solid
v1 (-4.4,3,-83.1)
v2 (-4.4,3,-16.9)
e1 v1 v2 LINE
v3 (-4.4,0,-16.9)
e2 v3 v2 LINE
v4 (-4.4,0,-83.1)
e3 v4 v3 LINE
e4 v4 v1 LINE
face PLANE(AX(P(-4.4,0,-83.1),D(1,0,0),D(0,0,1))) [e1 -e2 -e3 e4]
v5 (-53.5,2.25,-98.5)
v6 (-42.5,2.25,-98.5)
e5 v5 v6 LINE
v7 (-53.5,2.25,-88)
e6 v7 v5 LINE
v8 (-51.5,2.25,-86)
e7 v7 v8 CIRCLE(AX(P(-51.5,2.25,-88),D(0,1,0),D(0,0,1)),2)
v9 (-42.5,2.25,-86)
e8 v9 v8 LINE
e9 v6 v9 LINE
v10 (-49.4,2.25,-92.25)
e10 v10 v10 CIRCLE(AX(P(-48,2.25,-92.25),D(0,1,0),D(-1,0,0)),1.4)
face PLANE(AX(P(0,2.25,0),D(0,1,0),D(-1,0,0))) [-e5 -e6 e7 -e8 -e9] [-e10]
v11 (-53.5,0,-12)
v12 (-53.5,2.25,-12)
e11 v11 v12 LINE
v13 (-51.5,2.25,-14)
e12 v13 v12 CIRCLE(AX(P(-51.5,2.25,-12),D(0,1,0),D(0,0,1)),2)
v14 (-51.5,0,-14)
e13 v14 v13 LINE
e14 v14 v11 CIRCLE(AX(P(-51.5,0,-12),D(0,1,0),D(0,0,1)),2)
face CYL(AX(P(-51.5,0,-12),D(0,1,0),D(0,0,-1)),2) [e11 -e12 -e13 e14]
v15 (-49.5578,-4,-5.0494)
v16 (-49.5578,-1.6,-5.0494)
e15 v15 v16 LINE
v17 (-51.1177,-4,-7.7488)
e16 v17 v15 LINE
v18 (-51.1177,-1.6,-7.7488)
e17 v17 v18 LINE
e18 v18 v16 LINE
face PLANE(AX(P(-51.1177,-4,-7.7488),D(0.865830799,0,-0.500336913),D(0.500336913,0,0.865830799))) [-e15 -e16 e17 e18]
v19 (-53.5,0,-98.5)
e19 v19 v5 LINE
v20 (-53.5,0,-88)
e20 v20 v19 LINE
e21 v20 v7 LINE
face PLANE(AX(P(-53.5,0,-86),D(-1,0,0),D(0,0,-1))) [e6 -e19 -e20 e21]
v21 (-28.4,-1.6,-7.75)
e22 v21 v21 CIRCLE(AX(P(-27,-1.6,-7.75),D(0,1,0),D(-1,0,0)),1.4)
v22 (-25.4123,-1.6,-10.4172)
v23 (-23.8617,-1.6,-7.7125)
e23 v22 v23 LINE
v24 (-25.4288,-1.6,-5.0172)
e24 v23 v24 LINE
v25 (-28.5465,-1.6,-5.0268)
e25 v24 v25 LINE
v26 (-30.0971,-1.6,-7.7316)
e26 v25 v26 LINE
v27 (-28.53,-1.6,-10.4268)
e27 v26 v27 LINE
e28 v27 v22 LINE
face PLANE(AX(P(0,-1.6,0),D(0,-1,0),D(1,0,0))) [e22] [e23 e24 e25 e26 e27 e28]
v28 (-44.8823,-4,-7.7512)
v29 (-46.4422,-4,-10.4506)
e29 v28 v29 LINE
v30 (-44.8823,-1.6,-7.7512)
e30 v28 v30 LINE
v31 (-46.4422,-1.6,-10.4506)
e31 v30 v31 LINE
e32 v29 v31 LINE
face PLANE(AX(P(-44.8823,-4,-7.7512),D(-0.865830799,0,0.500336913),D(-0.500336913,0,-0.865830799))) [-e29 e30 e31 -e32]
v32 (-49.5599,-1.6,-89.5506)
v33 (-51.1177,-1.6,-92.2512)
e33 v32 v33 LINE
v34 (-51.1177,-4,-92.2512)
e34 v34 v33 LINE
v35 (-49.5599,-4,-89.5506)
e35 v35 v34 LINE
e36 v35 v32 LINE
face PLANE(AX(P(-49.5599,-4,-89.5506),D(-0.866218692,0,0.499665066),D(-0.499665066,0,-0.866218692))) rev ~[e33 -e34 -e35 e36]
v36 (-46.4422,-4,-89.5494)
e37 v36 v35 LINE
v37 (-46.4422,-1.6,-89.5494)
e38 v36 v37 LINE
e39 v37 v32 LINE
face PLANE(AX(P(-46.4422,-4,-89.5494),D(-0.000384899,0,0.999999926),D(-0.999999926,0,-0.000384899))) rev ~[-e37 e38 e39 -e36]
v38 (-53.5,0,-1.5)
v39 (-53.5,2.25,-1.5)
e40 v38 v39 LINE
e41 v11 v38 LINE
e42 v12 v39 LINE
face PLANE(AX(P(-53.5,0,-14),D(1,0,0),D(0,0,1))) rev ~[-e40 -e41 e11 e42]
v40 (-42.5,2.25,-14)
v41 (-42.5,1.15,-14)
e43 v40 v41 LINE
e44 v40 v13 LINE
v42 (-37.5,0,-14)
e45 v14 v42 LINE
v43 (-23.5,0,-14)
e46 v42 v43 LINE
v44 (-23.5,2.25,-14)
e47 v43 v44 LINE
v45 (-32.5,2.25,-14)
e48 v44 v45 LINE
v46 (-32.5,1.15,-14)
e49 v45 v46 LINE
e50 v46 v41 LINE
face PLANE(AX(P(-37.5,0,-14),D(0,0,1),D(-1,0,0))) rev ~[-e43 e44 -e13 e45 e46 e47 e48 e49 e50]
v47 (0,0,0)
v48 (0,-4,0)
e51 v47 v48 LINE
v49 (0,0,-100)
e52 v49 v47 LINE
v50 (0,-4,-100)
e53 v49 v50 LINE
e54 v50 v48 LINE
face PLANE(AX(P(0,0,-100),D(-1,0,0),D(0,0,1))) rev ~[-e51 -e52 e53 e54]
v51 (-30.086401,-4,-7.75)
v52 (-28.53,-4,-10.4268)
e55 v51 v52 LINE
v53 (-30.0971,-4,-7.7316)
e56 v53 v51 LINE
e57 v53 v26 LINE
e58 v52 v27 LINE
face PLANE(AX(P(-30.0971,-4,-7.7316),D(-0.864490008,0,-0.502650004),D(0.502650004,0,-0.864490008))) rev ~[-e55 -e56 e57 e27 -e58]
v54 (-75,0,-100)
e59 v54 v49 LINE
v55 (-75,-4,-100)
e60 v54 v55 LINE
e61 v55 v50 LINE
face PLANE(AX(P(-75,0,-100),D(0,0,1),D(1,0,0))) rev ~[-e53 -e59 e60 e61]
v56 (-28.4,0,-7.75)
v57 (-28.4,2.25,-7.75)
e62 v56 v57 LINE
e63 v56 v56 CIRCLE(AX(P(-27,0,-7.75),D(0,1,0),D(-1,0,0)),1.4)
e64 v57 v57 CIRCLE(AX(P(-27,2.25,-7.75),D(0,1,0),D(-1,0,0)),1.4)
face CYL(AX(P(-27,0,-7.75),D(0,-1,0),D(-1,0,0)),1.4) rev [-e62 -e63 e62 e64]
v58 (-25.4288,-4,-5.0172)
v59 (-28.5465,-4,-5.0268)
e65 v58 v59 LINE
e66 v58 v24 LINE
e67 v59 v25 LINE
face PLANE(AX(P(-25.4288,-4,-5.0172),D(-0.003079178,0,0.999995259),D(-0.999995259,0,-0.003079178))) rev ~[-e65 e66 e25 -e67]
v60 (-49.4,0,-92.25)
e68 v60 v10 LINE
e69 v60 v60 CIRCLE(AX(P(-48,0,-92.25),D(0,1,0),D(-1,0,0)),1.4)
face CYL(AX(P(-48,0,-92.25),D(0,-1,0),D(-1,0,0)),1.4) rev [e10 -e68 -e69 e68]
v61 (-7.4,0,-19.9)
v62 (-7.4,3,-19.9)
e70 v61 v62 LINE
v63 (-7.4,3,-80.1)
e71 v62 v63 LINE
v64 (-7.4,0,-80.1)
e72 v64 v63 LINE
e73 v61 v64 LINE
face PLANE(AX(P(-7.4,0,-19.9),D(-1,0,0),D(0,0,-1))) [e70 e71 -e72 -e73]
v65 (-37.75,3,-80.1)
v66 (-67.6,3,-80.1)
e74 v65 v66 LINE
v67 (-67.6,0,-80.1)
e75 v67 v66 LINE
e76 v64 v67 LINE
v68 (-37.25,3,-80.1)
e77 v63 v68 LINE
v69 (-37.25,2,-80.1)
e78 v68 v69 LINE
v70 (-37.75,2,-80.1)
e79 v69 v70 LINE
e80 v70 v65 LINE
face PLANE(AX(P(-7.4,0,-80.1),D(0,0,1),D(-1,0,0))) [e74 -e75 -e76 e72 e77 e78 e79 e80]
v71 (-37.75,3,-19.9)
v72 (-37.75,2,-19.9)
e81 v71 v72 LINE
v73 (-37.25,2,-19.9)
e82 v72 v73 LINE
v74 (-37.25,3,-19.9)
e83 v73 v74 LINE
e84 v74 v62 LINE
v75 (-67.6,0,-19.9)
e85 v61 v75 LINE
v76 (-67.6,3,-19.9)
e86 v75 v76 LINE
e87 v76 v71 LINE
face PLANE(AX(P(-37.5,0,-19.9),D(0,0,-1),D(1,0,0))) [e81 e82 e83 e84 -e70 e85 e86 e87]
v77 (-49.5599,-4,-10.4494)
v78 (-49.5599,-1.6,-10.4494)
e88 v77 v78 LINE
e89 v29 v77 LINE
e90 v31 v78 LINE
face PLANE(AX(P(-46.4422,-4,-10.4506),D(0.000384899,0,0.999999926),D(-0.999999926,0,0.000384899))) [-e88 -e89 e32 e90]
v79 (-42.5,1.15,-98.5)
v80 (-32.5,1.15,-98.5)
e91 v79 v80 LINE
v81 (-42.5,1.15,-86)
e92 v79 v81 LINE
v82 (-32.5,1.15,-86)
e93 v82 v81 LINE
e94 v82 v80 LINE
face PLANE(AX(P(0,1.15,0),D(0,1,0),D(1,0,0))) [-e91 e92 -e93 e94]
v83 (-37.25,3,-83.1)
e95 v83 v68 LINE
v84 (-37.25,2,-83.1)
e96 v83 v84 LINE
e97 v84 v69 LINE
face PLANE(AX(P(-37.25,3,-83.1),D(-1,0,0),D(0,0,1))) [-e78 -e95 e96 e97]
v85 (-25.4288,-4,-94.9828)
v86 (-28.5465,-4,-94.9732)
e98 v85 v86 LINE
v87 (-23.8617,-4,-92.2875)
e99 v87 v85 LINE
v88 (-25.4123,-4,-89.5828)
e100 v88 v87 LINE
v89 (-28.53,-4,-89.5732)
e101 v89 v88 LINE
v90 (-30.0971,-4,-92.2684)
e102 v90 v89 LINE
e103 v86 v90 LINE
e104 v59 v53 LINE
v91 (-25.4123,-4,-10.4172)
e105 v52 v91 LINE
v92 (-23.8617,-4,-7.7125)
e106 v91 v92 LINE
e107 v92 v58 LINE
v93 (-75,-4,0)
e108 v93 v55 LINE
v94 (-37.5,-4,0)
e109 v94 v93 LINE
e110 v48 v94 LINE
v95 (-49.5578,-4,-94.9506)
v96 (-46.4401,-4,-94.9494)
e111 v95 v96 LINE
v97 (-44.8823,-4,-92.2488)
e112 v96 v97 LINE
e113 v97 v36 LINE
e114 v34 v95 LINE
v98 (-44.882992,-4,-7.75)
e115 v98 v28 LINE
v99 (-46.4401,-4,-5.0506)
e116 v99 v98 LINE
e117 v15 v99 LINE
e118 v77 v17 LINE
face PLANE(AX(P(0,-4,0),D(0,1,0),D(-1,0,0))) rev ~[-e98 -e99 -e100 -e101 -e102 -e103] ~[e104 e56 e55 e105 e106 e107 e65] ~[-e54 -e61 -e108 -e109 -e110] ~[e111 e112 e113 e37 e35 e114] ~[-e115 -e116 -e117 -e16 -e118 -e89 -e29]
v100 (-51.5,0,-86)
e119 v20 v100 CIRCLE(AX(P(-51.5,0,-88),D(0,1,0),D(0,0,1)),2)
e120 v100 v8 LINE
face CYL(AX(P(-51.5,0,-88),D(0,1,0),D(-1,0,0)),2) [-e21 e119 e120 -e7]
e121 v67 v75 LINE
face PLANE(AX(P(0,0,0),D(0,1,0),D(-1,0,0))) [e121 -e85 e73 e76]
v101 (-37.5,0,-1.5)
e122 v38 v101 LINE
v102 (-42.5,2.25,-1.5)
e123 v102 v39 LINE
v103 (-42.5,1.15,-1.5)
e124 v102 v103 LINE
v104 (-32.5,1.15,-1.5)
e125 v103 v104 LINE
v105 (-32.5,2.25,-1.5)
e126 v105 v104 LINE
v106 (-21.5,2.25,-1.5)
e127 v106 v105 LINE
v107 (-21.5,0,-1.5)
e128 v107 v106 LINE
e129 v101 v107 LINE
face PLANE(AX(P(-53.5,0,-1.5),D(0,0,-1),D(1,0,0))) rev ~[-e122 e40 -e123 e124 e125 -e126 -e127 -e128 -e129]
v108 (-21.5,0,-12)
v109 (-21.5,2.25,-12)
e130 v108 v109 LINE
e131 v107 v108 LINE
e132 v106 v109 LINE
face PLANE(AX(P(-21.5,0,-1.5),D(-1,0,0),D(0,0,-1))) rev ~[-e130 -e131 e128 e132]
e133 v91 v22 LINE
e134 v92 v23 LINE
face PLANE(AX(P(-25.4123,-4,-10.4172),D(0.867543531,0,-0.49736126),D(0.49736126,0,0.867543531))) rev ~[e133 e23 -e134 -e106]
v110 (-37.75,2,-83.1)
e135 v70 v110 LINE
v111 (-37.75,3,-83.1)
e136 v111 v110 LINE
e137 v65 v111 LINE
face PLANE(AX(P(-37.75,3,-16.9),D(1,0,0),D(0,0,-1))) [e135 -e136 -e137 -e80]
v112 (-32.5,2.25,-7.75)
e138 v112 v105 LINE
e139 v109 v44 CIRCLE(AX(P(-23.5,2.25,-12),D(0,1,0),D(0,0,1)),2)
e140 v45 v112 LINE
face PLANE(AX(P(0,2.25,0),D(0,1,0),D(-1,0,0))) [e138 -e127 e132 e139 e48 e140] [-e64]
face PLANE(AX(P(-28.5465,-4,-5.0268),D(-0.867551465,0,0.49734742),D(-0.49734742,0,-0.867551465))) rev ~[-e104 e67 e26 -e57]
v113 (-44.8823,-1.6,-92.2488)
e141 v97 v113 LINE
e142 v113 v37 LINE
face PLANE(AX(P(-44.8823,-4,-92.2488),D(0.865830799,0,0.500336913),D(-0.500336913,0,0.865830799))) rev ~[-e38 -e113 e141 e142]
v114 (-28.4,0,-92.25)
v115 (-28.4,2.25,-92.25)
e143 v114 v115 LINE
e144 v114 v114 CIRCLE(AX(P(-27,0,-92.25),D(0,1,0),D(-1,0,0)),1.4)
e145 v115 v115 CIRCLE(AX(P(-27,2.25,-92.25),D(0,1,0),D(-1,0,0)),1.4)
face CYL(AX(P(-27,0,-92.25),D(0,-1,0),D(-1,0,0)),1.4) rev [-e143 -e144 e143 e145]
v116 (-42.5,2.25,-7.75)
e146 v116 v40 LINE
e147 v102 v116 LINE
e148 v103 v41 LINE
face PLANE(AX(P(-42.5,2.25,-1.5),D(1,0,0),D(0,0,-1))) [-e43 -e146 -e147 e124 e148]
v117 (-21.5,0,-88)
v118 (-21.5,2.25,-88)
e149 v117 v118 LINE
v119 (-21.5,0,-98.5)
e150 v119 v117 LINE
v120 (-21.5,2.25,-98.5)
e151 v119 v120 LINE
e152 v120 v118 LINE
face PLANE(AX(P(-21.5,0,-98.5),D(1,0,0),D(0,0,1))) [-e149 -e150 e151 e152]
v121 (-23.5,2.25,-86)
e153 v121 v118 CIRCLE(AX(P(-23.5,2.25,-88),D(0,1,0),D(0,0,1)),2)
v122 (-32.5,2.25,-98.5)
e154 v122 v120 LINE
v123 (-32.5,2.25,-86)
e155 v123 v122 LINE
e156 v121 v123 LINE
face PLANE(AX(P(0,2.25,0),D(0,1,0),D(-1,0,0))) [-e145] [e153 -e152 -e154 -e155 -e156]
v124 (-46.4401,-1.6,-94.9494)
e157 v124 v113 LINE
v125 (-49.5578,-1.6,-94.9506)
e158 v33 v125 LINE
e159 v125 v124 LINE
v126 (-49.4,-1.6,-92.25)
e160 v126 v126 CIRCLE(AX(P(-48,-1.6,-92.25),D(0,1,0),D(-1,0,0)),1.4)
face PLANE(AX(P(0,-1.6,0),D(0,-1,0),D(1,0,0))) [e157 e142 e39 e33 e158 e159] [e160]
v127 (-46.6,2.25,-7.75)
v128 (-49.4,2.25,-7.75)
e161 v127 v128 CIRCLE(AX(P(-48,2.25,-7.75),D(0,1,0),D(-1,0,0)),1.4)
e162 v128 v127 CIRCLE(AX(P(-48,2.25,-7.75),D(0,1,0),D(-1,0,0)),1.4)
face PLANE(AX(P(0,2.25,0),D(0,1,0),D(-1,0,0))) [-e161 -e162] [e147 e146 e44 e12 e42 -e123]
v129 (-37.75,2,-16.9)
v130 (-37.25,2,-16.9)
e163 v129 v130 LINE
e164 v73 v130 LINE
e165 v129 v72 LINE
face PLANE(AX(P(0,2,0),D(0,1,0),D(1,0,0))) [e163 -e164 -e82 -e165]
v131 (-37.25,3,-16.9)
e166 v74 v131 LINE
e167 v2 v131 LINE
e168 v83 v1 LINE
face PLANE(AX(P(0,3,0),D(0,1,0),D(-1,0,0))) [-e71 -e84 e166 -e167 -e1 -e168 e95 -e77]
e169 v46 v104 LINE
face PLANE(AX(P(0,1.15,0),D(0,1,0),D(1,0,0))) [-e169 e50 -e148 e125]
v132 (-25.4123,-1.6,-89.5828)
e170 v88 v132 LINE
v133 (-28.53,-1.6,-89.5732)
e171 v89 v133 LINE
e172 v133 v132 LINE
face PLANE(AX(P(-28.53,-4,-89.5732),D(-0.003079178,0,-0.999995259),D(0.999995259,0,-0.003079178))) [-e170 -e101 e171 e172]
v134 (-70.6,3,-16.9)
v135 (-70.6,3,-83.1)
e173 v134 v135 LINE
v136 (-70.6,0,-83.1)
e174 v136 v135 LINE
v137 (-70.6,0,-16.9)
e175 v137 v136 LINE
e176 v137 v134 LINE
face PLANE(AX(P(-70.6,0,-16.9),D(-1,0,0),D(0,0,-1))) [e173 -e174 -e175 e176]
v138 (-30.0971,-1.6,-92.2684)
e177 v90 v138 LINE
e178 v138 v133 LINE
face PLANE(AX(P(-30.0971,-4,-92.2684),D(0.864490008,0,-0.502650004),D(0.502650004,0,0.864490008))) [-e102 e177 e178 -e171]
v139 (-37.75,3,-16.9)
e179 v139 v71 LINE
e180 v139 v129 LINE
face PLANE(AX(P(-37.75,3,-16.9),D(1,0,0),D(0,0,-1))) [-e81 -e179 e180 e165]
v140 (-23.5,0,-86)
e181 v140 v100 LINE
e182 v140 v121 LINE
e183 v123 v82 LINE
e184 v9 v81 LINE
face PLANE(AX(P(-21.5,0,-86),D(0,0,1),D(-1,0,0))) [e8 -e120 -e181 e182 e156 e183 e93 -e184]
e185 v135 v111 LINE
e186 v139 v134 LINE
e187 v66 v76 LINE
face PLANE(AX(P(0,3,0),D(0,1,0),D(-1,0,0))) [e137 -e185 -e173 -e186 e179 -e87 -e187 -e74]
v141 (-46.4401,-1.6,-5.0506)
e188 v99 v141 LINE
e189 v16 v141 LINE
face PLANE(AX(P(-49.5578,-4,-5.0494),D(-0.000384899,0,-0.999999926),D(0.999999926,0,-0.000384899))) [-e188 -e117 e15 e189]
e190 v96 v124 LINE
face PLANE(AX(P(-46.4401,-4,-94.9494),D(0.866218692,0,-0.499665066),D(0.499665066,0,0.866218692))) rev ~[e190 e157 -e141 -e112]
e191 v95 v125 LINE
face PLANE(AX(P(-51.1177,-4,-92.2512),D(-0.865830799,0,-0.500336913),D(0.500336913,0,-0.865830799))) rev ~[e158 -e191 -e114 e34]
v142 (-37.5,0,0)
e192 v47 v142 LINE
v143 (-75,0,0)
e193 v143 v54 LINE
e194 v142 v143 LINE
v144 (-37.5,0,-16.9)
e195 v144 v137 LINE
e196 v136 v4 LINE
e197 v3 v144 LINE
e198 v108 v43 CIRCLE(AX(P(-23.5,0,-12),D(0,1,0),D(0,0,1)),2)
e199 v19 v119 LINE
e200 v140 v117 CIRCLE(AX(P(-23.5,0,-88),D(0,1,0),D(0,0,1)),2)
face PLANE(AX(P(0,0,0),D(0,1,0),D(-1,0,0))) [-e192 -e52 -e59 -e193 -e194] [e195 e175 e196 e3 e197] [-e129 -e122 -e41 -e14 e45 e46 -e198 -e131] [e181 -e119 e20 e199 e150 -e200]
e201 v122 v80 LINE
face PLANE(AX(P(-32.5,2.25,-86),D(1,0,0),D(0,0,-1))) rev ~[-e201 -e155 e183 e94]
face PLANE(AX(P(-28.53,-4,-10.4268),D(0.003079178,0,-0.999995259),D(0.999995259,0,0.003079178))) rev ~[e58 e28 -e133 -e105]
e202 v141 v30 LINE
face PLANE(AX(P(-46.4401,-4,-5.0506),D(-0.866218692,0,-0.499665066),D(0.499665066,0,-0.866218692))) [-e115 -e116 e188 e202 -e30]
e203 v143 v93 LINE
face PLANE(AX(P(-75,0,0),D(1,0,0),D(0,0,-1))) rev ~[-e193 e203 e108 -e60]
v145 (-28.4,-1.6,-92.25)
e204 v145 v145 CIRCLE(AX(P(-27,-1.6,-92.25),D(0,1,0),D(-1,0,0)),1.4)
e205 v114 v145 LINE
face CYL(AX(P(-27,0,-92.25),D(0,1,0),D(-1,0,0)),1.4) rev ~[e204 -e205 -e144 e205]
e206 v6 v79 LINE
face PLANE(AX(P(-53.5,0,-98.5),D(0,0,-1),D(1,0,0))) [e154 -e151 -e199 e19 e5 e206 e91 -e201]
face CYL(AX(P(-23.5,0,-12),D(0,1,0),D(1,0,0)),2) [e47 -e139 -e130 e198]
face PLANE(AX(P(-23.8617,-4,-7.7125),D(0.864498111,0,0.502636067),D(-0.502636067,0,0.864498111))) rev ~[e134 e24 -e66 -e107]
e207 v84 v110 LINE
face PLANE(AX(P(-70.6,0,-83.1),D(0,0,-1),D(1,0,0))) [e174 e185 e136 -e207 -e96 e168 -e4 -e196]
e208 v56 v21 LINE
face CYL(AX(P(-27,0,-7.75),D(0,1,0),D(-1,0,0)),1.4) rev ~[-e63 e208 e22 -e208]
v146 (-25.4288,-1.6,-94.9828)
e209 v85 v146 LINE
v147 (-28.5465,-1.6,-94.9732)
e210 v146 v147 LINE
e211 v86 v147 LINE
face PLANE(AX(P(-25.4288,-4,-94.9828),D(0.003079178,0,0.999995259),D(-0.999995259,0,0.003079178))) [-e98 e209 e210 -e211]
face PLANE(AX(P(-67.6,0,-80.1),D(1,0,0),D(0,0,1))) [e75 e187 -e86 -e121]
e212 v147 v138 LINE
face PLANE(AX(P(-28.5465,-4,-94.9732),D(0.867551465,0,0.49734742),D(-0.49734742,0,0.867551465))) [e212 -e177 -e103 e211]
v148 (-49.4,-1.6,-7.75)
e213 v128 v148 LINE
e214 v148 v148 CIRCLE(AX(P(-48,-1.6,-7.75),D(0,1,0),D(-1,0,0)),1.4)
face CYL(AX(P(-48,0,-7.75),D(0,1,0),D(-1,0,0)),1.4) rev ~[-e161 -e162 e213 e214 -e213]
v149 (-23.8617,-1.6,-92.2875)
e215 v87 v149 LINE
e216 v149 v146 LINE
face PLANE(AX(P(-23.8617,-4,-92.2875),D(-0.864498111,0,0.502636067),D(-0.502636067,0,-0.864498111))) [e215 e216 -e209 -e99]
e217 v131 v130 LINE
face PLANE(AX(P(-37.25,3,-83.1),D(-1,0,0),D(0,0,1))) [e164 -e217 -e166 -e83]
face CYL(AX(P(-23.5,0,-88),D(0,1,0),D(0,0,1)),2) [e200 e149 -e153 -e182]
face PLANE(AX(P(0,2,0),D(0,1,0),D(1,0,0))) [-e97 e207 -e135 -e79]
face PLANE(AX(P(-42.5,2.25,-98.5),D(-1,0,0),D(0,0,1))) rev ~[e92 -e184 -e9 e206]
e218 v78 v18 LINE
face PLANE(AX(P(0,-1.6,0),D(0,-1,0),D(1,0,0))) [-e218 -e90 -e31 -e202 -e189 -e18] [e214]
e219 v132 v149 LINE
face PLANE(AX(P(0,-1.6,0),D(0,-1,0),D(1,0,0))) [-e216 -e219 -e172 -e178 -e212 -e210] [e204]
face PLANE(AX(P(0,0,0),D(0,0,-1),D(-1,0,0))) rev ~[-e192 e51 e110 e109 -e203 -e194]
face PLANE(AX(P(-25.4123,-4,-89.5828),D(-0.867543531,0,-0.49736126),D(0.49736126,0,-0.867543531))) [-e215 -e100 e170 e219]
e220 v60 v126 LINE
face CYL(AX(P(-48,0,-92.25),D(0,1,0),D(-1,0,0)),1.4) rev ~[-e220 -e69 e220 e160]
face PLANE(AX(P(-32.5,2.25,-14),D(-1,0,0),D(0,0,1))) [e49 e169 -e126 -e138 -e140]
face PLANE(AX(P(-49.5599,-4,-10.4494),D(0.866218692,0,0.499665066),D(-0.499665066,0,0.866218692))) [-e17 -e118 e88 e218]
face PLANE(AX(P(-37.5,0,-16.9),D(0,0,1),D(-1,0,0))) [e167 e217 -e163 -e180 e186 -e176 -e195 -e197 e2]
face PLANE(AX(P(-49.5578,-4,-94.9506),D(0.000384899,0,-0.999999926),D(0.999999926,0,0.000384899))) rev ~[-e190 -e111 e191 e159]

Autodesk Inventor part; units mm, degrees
ref_plane "YZ Plane" through (0, 0, 0) normal (1, 0, 0) x (0, 1, 0)
ref_plane "XZ Plane" through (0, 0, 0) normal (0, 1, 0) x (-1, 0, 0)
ref_plane "XY Plane" through (0, 0, 0) normal (0, 0, 1) x (1, 0, 0)
sketch "Boceto1" plane through (0, 0, 0) normal (0, 1, 0) x (-1, 0, 0)
  line L0 (0, 0) -> (75, 0)
  line L1 (75, 0) -> (75, -100)
  line L2 (75, -100) -> (0, -100)
  line L3 (0, -100) -> (0, 0)
  line L4 (7.4, -80.1) -> (67.6, -80.1)
  line L5 (67.6, -80.1) -> (67.6, -19.9)
  line L6 (67.6, -19.9) -> (7.4, -19.9)
  line L7 (7.4, -19.9) -> (7.4, -80.1)
  line L8 (7.4, -80.1) -> (67.6, -19.9) construction
  line L9 (67.6, -80.1) -> (7.4, -19.9) construction
  line L10 (70.6, -16.9) -> (70.6, -83.1)
  line L11 (70.6, -83.1) -> (4.4, -83.1)
  line L12 (4.4, -83.1) -> (4.4, -16.9)
  line L13 (4.4, -16.9) -> (70.6, -16.9)
  line L14 (53.5, -1.5) -> (21.5, -1.5)
  line L15 (21.5, -1.5) -> (21.5, -14)
  line L16 (21.5, -14) -> (53.5, -14)
  line L17 (53.5, -14) -> (53.5, -1.5)
  line L18 (67.6, -50) -> (7.4, -50) construction
  line L19 (53.5, -7.75) -> (48, -7.75) construction
  line L20 (48, -7.75) -> (27, -7.75) construction
  line L21 (27, -7.75) -> (21.5, -7.75) construction
  circle A0 centre (48, -7.75) radius 1.4
  circle A1 centre (27, -7.75) radius 1.4
  line L22 (53.5, -98.5) -> (21.5, -98.5)
  line L23 (21.5, -98.5) -> (21.5, -86)
  line L24 (21.5, -86) -> (53.5, -86)
  line L25 (53.5, -86) -> (53.5, -98.5)
  circle A2 centre (48, -92.25) radius 1.4
  circle A3 centre (27, -92.25) radius 1.4
  line L26 (58.4347, 0) -> (58.4347, -14) construction
  line L27 (68.2, -14.5) -> (75, -14.5) construction
  line L28 (37.5, -19.9) -> (37.5, -80.1) construction
  circle A4 centre (48, -92.25) radius 1.4
  line L29 (48, -7.75) -> (27, -7.75)
  line L30 (37.5, -1.5) -> (37.5, 0)
  line L31 (37.5, -1.5) -> (37.5, -50)
  point P0 (37.5, -14)
  point P1 (37.5, -16.9)
  point P2 (37.5, -98.5)
  point P3 (37.5, -100)
  dimension "d0" = 100
  dimension "d1" = 75
  dimension "d2" = 60.2
  dimension "d3" = 60.2
  dimension "d4" = 3
  dimension "d5" = 12.5
  dimension "d6" = 32
  dimension "d8" = 5.5
  dimension "d9" = 5.5
  dimension "d10" = 2.8
  dimension "d11" = 2.8
  dimension "d14" = 14
  dimension "d32" = 1.5
  dimension "d36" = 1.5
extrude "Extrusión1" add sketch "Boceto1" along normal blind 3 contours L13 L10 L11 L12
extrude "Extrusión2" add sketch "Boceto1" against normal blind 4 contours L14 L17 L16 L31 | L31 L16 L15 L14 | L0 L1 L2 L3 | L22 L23 L24 L25
extrude "Extrusión3" add sketch "Boceto1" along normal blind 2.25 contours L14 L17 L16 L31 | L31 L16 L15 L14 | L22 L23 L24 L25
sketch "Boceto2" plane through (0, 2.25, 0) normal (0, 1, 0) x (1, 0, 0)
  line L0 (-53.5, 1.5) -> (-21.5, 1.5) projected
  line L1 (-37.5, 1.5) -> (-37.5, 14)
  line L2 (-21.5, 14) -> (-53.5, 14) projected
  line L3 (-32.5, 1.5) -> (-42.5, 1.5)
  line L4 (-42.5, 1.5) -> (-42.5, 14)
  line L5 (-42.5, 14) -> (-32.5, 14)
  line L6 (-32.5, 14) -> (-32.5, 1.5)
  line L7 (-32.5, 1.5) -> (-42.5, 14) construction
  line L8 (-42.5, 1.5) -> (-32.5, 14) construction
  line L9 (-67.6, 50) -> (-7.4, 50) construction
  line L10 (-53.5, 98.5) -> (-21.5, 98.5)
  line L11 (-21.5, 86) -> (-53.5, 86)
  line L12 (-42.5, 98.5) -> (-42.5, 86)
  line L13 (-32.5, 86) -> (-32.5, 98.5)
  point P0 (0, 0)
  point P1 (-37.5, 7.75)
  point P2 (-42.5, 98.5)
  point P3 (-42.5, 1.5)
  point P4 (-32.5, 1.5)
  point P5 (-32.5, 14)
  dimension "d22" = 10
extrude "Extrusión4" cut sketch "Boceto2" against normal blind 1.1
extrude "Extrusión5" add sketch "Boceto1" against normal blind 4 contours L6 L5 L4 L7 | L13 L10 L11 L12
sketch "Boceto3" plane through (0, 3, 0) normal (0, 1, 0) x (1, 0, 0)
  line L0 (-37.5, 19.9) -> (-37.5, 80.1) construction
  line L1 (-70.6, 16.9) -> (-4.4, 16.9) projected
  line L2 (-37.5, 16.9) -> (-37.5, 83.1)
  line L3 (-4.4, 83.1) -> (-70.6, 83.1) projected
  line L4 (-37.25, 16.9) -> (-37.75, 16.9)
  line L5 (-37.75, 16.9) -> (-37.75, 83.1)
  line L6 (-37.75, 83.1) -> (-37.25, 83.1)
  line L7 (-37.25, 83.1) -> (-37.25, 16.9)
  line L8 (-37.25, 16.9) -> (-37.75, 83.1) construction
  line L9 (-37.75, 16.9) -> (-37.25, 83.1) construction
  point P0 (0, 0)
  point P1 (-37.5, 50)
  point P2 (-37.25, 16.9)
  point P3 (-37.25, 83.1)
  point P4 (-37.75, 16.9)
  dimension "d27" = 0.5
extrude "Extrusión6" cut sketch "Boceto3" against normal blind 1
sketch "Boceto4" plane through (-53.5, 0, -1.5) normal (0, 0, 1) x (1, 0, 0)
  line L0 (16.25, 2) -> (15.75, 2) projected
  line L1 (21, 1.15) -> (11, 1.15) projected
  line L2 (-21.5, 0) -> (53.5, 0) projected
  line L3 (15.75, 2) -> (15.75, 3) projected
fillet "Empalme1" radius 2 4 edges at (-53.5, 1.125, -86) (-21.5, 1.125, -86) (-21.5, 1.125, -14) (-53.5, 1.125, -14)
sketch "Boceto5" plane through (-53.5, 0, -1.5) normal (0, 0, 1) x (1, 0, 0)
  line L0 (16.25, 2) -> (15.75, 2) projected
  line L1 (21, 1.15) -> (11, 1.15) projected
  point P0 (53.5, 0)
sketch "Boceto6" plane through (0, -4, 0) normal (0, -1, 0) x (1, 0, 0)
  line L0 (-27, -7.75) -> (-21.5, -7.75) construction
  circle A0 centre (-48, -7.75) radius 1.4 projected
  line L1 (-46.4401, -5.0506) -> (-44.8823, -7.7512)
  line L2 (-44.8823, -7.7512) -> (-46.4422, -10.4506)
  line L3 (-46.4422, -10.4506) -> (-49.5599, -10.4494)
  line L4 (-49.5599, -10.4494) -> (-51.1177, -7.7488)
  line L5 (-51.1177, -7.7488) -> (-49.5578, -5.0494)
  line L6 (-49.5578, -5.0494) -> (-46.4401, -5.0506)
  line L7 (0, 0) -> (-75, 0) projected
  line L8 (-37.5, 0) -> (-37.3669, -100)
  line L9 (0, -100) -> (-75, -100) projected
  line L10 (-75, 0) -> (-75, -100) projected
  line L11 (-75, -50) -> (0, -50)
  line L12 (0, -100) -> (0, 0) projected
  line L13 (-28.5465, -5.0268) -> (-30.0971, -7.7316)
  line L14 (-30.0971, -7.7316) -> (-28.53, -10.4268)
  line L15 (-28.53, -10.4268) -> (-25.4123, -10.4172)
  line L16 (-25.4123, -10.4172) -> (-23.8617, -7.7125)
  line L17 (-23.8617, -7.7125) -> (-25.4288, -5.0172)
  line L18 (-25.4288, -5.0172) -> (-28.5465, -5.0268)
  line L19 (-46.4401, -94.9494) -> (-44.8823, -92.2488)
  line L20 (-44.8823, -92.2488) -> (-46.4422, -89.5494)
  line L21 (-46.4422, -89.5494) -> (-49.5599, -89.5506)
  line L22 (-49.5599, -89.5506) -> (-51.1177, -92.2512)
  line L23 (-51.1177, -92.2512) -> (-49.5578, -94.9506)
  line L24 (-49.5578, -94.9506) -> (-46.4401, -94.9494)
  line L25 (-23.8617, -92.2875) -> (-25.4288, -94.9828)
  line L26 (-25.4288, -94.9828) -> (-28.5465, -94.9732)
  line L27 (-28.5465, -94.9732) -> (-30.0971, -92.2684)
  line L28 (-30.0971, -92.2684) -> (-28.53, -89.5732)
  line L29 (-28.53, -89.5732) -> (-25.4123, -89.5828)
  line L30 (-25.4123, -89.5828) -> (-23.8617, -92.2875)
  dimension "d37" = 5.4
extrude "Extrusión7" cut sketch "Boceto6" against normal blind 2.4 contours A0 | L1 L2 L3 L4 L5 L6 | L18 L17 L16 L15 L14 L13 | L24 L23 L22 L21 L20 L19 | L25 L26 L27 L28 L29 L30
equation "\"d9\" = d8"
properties part number "Molde 663FBR 1mm"
